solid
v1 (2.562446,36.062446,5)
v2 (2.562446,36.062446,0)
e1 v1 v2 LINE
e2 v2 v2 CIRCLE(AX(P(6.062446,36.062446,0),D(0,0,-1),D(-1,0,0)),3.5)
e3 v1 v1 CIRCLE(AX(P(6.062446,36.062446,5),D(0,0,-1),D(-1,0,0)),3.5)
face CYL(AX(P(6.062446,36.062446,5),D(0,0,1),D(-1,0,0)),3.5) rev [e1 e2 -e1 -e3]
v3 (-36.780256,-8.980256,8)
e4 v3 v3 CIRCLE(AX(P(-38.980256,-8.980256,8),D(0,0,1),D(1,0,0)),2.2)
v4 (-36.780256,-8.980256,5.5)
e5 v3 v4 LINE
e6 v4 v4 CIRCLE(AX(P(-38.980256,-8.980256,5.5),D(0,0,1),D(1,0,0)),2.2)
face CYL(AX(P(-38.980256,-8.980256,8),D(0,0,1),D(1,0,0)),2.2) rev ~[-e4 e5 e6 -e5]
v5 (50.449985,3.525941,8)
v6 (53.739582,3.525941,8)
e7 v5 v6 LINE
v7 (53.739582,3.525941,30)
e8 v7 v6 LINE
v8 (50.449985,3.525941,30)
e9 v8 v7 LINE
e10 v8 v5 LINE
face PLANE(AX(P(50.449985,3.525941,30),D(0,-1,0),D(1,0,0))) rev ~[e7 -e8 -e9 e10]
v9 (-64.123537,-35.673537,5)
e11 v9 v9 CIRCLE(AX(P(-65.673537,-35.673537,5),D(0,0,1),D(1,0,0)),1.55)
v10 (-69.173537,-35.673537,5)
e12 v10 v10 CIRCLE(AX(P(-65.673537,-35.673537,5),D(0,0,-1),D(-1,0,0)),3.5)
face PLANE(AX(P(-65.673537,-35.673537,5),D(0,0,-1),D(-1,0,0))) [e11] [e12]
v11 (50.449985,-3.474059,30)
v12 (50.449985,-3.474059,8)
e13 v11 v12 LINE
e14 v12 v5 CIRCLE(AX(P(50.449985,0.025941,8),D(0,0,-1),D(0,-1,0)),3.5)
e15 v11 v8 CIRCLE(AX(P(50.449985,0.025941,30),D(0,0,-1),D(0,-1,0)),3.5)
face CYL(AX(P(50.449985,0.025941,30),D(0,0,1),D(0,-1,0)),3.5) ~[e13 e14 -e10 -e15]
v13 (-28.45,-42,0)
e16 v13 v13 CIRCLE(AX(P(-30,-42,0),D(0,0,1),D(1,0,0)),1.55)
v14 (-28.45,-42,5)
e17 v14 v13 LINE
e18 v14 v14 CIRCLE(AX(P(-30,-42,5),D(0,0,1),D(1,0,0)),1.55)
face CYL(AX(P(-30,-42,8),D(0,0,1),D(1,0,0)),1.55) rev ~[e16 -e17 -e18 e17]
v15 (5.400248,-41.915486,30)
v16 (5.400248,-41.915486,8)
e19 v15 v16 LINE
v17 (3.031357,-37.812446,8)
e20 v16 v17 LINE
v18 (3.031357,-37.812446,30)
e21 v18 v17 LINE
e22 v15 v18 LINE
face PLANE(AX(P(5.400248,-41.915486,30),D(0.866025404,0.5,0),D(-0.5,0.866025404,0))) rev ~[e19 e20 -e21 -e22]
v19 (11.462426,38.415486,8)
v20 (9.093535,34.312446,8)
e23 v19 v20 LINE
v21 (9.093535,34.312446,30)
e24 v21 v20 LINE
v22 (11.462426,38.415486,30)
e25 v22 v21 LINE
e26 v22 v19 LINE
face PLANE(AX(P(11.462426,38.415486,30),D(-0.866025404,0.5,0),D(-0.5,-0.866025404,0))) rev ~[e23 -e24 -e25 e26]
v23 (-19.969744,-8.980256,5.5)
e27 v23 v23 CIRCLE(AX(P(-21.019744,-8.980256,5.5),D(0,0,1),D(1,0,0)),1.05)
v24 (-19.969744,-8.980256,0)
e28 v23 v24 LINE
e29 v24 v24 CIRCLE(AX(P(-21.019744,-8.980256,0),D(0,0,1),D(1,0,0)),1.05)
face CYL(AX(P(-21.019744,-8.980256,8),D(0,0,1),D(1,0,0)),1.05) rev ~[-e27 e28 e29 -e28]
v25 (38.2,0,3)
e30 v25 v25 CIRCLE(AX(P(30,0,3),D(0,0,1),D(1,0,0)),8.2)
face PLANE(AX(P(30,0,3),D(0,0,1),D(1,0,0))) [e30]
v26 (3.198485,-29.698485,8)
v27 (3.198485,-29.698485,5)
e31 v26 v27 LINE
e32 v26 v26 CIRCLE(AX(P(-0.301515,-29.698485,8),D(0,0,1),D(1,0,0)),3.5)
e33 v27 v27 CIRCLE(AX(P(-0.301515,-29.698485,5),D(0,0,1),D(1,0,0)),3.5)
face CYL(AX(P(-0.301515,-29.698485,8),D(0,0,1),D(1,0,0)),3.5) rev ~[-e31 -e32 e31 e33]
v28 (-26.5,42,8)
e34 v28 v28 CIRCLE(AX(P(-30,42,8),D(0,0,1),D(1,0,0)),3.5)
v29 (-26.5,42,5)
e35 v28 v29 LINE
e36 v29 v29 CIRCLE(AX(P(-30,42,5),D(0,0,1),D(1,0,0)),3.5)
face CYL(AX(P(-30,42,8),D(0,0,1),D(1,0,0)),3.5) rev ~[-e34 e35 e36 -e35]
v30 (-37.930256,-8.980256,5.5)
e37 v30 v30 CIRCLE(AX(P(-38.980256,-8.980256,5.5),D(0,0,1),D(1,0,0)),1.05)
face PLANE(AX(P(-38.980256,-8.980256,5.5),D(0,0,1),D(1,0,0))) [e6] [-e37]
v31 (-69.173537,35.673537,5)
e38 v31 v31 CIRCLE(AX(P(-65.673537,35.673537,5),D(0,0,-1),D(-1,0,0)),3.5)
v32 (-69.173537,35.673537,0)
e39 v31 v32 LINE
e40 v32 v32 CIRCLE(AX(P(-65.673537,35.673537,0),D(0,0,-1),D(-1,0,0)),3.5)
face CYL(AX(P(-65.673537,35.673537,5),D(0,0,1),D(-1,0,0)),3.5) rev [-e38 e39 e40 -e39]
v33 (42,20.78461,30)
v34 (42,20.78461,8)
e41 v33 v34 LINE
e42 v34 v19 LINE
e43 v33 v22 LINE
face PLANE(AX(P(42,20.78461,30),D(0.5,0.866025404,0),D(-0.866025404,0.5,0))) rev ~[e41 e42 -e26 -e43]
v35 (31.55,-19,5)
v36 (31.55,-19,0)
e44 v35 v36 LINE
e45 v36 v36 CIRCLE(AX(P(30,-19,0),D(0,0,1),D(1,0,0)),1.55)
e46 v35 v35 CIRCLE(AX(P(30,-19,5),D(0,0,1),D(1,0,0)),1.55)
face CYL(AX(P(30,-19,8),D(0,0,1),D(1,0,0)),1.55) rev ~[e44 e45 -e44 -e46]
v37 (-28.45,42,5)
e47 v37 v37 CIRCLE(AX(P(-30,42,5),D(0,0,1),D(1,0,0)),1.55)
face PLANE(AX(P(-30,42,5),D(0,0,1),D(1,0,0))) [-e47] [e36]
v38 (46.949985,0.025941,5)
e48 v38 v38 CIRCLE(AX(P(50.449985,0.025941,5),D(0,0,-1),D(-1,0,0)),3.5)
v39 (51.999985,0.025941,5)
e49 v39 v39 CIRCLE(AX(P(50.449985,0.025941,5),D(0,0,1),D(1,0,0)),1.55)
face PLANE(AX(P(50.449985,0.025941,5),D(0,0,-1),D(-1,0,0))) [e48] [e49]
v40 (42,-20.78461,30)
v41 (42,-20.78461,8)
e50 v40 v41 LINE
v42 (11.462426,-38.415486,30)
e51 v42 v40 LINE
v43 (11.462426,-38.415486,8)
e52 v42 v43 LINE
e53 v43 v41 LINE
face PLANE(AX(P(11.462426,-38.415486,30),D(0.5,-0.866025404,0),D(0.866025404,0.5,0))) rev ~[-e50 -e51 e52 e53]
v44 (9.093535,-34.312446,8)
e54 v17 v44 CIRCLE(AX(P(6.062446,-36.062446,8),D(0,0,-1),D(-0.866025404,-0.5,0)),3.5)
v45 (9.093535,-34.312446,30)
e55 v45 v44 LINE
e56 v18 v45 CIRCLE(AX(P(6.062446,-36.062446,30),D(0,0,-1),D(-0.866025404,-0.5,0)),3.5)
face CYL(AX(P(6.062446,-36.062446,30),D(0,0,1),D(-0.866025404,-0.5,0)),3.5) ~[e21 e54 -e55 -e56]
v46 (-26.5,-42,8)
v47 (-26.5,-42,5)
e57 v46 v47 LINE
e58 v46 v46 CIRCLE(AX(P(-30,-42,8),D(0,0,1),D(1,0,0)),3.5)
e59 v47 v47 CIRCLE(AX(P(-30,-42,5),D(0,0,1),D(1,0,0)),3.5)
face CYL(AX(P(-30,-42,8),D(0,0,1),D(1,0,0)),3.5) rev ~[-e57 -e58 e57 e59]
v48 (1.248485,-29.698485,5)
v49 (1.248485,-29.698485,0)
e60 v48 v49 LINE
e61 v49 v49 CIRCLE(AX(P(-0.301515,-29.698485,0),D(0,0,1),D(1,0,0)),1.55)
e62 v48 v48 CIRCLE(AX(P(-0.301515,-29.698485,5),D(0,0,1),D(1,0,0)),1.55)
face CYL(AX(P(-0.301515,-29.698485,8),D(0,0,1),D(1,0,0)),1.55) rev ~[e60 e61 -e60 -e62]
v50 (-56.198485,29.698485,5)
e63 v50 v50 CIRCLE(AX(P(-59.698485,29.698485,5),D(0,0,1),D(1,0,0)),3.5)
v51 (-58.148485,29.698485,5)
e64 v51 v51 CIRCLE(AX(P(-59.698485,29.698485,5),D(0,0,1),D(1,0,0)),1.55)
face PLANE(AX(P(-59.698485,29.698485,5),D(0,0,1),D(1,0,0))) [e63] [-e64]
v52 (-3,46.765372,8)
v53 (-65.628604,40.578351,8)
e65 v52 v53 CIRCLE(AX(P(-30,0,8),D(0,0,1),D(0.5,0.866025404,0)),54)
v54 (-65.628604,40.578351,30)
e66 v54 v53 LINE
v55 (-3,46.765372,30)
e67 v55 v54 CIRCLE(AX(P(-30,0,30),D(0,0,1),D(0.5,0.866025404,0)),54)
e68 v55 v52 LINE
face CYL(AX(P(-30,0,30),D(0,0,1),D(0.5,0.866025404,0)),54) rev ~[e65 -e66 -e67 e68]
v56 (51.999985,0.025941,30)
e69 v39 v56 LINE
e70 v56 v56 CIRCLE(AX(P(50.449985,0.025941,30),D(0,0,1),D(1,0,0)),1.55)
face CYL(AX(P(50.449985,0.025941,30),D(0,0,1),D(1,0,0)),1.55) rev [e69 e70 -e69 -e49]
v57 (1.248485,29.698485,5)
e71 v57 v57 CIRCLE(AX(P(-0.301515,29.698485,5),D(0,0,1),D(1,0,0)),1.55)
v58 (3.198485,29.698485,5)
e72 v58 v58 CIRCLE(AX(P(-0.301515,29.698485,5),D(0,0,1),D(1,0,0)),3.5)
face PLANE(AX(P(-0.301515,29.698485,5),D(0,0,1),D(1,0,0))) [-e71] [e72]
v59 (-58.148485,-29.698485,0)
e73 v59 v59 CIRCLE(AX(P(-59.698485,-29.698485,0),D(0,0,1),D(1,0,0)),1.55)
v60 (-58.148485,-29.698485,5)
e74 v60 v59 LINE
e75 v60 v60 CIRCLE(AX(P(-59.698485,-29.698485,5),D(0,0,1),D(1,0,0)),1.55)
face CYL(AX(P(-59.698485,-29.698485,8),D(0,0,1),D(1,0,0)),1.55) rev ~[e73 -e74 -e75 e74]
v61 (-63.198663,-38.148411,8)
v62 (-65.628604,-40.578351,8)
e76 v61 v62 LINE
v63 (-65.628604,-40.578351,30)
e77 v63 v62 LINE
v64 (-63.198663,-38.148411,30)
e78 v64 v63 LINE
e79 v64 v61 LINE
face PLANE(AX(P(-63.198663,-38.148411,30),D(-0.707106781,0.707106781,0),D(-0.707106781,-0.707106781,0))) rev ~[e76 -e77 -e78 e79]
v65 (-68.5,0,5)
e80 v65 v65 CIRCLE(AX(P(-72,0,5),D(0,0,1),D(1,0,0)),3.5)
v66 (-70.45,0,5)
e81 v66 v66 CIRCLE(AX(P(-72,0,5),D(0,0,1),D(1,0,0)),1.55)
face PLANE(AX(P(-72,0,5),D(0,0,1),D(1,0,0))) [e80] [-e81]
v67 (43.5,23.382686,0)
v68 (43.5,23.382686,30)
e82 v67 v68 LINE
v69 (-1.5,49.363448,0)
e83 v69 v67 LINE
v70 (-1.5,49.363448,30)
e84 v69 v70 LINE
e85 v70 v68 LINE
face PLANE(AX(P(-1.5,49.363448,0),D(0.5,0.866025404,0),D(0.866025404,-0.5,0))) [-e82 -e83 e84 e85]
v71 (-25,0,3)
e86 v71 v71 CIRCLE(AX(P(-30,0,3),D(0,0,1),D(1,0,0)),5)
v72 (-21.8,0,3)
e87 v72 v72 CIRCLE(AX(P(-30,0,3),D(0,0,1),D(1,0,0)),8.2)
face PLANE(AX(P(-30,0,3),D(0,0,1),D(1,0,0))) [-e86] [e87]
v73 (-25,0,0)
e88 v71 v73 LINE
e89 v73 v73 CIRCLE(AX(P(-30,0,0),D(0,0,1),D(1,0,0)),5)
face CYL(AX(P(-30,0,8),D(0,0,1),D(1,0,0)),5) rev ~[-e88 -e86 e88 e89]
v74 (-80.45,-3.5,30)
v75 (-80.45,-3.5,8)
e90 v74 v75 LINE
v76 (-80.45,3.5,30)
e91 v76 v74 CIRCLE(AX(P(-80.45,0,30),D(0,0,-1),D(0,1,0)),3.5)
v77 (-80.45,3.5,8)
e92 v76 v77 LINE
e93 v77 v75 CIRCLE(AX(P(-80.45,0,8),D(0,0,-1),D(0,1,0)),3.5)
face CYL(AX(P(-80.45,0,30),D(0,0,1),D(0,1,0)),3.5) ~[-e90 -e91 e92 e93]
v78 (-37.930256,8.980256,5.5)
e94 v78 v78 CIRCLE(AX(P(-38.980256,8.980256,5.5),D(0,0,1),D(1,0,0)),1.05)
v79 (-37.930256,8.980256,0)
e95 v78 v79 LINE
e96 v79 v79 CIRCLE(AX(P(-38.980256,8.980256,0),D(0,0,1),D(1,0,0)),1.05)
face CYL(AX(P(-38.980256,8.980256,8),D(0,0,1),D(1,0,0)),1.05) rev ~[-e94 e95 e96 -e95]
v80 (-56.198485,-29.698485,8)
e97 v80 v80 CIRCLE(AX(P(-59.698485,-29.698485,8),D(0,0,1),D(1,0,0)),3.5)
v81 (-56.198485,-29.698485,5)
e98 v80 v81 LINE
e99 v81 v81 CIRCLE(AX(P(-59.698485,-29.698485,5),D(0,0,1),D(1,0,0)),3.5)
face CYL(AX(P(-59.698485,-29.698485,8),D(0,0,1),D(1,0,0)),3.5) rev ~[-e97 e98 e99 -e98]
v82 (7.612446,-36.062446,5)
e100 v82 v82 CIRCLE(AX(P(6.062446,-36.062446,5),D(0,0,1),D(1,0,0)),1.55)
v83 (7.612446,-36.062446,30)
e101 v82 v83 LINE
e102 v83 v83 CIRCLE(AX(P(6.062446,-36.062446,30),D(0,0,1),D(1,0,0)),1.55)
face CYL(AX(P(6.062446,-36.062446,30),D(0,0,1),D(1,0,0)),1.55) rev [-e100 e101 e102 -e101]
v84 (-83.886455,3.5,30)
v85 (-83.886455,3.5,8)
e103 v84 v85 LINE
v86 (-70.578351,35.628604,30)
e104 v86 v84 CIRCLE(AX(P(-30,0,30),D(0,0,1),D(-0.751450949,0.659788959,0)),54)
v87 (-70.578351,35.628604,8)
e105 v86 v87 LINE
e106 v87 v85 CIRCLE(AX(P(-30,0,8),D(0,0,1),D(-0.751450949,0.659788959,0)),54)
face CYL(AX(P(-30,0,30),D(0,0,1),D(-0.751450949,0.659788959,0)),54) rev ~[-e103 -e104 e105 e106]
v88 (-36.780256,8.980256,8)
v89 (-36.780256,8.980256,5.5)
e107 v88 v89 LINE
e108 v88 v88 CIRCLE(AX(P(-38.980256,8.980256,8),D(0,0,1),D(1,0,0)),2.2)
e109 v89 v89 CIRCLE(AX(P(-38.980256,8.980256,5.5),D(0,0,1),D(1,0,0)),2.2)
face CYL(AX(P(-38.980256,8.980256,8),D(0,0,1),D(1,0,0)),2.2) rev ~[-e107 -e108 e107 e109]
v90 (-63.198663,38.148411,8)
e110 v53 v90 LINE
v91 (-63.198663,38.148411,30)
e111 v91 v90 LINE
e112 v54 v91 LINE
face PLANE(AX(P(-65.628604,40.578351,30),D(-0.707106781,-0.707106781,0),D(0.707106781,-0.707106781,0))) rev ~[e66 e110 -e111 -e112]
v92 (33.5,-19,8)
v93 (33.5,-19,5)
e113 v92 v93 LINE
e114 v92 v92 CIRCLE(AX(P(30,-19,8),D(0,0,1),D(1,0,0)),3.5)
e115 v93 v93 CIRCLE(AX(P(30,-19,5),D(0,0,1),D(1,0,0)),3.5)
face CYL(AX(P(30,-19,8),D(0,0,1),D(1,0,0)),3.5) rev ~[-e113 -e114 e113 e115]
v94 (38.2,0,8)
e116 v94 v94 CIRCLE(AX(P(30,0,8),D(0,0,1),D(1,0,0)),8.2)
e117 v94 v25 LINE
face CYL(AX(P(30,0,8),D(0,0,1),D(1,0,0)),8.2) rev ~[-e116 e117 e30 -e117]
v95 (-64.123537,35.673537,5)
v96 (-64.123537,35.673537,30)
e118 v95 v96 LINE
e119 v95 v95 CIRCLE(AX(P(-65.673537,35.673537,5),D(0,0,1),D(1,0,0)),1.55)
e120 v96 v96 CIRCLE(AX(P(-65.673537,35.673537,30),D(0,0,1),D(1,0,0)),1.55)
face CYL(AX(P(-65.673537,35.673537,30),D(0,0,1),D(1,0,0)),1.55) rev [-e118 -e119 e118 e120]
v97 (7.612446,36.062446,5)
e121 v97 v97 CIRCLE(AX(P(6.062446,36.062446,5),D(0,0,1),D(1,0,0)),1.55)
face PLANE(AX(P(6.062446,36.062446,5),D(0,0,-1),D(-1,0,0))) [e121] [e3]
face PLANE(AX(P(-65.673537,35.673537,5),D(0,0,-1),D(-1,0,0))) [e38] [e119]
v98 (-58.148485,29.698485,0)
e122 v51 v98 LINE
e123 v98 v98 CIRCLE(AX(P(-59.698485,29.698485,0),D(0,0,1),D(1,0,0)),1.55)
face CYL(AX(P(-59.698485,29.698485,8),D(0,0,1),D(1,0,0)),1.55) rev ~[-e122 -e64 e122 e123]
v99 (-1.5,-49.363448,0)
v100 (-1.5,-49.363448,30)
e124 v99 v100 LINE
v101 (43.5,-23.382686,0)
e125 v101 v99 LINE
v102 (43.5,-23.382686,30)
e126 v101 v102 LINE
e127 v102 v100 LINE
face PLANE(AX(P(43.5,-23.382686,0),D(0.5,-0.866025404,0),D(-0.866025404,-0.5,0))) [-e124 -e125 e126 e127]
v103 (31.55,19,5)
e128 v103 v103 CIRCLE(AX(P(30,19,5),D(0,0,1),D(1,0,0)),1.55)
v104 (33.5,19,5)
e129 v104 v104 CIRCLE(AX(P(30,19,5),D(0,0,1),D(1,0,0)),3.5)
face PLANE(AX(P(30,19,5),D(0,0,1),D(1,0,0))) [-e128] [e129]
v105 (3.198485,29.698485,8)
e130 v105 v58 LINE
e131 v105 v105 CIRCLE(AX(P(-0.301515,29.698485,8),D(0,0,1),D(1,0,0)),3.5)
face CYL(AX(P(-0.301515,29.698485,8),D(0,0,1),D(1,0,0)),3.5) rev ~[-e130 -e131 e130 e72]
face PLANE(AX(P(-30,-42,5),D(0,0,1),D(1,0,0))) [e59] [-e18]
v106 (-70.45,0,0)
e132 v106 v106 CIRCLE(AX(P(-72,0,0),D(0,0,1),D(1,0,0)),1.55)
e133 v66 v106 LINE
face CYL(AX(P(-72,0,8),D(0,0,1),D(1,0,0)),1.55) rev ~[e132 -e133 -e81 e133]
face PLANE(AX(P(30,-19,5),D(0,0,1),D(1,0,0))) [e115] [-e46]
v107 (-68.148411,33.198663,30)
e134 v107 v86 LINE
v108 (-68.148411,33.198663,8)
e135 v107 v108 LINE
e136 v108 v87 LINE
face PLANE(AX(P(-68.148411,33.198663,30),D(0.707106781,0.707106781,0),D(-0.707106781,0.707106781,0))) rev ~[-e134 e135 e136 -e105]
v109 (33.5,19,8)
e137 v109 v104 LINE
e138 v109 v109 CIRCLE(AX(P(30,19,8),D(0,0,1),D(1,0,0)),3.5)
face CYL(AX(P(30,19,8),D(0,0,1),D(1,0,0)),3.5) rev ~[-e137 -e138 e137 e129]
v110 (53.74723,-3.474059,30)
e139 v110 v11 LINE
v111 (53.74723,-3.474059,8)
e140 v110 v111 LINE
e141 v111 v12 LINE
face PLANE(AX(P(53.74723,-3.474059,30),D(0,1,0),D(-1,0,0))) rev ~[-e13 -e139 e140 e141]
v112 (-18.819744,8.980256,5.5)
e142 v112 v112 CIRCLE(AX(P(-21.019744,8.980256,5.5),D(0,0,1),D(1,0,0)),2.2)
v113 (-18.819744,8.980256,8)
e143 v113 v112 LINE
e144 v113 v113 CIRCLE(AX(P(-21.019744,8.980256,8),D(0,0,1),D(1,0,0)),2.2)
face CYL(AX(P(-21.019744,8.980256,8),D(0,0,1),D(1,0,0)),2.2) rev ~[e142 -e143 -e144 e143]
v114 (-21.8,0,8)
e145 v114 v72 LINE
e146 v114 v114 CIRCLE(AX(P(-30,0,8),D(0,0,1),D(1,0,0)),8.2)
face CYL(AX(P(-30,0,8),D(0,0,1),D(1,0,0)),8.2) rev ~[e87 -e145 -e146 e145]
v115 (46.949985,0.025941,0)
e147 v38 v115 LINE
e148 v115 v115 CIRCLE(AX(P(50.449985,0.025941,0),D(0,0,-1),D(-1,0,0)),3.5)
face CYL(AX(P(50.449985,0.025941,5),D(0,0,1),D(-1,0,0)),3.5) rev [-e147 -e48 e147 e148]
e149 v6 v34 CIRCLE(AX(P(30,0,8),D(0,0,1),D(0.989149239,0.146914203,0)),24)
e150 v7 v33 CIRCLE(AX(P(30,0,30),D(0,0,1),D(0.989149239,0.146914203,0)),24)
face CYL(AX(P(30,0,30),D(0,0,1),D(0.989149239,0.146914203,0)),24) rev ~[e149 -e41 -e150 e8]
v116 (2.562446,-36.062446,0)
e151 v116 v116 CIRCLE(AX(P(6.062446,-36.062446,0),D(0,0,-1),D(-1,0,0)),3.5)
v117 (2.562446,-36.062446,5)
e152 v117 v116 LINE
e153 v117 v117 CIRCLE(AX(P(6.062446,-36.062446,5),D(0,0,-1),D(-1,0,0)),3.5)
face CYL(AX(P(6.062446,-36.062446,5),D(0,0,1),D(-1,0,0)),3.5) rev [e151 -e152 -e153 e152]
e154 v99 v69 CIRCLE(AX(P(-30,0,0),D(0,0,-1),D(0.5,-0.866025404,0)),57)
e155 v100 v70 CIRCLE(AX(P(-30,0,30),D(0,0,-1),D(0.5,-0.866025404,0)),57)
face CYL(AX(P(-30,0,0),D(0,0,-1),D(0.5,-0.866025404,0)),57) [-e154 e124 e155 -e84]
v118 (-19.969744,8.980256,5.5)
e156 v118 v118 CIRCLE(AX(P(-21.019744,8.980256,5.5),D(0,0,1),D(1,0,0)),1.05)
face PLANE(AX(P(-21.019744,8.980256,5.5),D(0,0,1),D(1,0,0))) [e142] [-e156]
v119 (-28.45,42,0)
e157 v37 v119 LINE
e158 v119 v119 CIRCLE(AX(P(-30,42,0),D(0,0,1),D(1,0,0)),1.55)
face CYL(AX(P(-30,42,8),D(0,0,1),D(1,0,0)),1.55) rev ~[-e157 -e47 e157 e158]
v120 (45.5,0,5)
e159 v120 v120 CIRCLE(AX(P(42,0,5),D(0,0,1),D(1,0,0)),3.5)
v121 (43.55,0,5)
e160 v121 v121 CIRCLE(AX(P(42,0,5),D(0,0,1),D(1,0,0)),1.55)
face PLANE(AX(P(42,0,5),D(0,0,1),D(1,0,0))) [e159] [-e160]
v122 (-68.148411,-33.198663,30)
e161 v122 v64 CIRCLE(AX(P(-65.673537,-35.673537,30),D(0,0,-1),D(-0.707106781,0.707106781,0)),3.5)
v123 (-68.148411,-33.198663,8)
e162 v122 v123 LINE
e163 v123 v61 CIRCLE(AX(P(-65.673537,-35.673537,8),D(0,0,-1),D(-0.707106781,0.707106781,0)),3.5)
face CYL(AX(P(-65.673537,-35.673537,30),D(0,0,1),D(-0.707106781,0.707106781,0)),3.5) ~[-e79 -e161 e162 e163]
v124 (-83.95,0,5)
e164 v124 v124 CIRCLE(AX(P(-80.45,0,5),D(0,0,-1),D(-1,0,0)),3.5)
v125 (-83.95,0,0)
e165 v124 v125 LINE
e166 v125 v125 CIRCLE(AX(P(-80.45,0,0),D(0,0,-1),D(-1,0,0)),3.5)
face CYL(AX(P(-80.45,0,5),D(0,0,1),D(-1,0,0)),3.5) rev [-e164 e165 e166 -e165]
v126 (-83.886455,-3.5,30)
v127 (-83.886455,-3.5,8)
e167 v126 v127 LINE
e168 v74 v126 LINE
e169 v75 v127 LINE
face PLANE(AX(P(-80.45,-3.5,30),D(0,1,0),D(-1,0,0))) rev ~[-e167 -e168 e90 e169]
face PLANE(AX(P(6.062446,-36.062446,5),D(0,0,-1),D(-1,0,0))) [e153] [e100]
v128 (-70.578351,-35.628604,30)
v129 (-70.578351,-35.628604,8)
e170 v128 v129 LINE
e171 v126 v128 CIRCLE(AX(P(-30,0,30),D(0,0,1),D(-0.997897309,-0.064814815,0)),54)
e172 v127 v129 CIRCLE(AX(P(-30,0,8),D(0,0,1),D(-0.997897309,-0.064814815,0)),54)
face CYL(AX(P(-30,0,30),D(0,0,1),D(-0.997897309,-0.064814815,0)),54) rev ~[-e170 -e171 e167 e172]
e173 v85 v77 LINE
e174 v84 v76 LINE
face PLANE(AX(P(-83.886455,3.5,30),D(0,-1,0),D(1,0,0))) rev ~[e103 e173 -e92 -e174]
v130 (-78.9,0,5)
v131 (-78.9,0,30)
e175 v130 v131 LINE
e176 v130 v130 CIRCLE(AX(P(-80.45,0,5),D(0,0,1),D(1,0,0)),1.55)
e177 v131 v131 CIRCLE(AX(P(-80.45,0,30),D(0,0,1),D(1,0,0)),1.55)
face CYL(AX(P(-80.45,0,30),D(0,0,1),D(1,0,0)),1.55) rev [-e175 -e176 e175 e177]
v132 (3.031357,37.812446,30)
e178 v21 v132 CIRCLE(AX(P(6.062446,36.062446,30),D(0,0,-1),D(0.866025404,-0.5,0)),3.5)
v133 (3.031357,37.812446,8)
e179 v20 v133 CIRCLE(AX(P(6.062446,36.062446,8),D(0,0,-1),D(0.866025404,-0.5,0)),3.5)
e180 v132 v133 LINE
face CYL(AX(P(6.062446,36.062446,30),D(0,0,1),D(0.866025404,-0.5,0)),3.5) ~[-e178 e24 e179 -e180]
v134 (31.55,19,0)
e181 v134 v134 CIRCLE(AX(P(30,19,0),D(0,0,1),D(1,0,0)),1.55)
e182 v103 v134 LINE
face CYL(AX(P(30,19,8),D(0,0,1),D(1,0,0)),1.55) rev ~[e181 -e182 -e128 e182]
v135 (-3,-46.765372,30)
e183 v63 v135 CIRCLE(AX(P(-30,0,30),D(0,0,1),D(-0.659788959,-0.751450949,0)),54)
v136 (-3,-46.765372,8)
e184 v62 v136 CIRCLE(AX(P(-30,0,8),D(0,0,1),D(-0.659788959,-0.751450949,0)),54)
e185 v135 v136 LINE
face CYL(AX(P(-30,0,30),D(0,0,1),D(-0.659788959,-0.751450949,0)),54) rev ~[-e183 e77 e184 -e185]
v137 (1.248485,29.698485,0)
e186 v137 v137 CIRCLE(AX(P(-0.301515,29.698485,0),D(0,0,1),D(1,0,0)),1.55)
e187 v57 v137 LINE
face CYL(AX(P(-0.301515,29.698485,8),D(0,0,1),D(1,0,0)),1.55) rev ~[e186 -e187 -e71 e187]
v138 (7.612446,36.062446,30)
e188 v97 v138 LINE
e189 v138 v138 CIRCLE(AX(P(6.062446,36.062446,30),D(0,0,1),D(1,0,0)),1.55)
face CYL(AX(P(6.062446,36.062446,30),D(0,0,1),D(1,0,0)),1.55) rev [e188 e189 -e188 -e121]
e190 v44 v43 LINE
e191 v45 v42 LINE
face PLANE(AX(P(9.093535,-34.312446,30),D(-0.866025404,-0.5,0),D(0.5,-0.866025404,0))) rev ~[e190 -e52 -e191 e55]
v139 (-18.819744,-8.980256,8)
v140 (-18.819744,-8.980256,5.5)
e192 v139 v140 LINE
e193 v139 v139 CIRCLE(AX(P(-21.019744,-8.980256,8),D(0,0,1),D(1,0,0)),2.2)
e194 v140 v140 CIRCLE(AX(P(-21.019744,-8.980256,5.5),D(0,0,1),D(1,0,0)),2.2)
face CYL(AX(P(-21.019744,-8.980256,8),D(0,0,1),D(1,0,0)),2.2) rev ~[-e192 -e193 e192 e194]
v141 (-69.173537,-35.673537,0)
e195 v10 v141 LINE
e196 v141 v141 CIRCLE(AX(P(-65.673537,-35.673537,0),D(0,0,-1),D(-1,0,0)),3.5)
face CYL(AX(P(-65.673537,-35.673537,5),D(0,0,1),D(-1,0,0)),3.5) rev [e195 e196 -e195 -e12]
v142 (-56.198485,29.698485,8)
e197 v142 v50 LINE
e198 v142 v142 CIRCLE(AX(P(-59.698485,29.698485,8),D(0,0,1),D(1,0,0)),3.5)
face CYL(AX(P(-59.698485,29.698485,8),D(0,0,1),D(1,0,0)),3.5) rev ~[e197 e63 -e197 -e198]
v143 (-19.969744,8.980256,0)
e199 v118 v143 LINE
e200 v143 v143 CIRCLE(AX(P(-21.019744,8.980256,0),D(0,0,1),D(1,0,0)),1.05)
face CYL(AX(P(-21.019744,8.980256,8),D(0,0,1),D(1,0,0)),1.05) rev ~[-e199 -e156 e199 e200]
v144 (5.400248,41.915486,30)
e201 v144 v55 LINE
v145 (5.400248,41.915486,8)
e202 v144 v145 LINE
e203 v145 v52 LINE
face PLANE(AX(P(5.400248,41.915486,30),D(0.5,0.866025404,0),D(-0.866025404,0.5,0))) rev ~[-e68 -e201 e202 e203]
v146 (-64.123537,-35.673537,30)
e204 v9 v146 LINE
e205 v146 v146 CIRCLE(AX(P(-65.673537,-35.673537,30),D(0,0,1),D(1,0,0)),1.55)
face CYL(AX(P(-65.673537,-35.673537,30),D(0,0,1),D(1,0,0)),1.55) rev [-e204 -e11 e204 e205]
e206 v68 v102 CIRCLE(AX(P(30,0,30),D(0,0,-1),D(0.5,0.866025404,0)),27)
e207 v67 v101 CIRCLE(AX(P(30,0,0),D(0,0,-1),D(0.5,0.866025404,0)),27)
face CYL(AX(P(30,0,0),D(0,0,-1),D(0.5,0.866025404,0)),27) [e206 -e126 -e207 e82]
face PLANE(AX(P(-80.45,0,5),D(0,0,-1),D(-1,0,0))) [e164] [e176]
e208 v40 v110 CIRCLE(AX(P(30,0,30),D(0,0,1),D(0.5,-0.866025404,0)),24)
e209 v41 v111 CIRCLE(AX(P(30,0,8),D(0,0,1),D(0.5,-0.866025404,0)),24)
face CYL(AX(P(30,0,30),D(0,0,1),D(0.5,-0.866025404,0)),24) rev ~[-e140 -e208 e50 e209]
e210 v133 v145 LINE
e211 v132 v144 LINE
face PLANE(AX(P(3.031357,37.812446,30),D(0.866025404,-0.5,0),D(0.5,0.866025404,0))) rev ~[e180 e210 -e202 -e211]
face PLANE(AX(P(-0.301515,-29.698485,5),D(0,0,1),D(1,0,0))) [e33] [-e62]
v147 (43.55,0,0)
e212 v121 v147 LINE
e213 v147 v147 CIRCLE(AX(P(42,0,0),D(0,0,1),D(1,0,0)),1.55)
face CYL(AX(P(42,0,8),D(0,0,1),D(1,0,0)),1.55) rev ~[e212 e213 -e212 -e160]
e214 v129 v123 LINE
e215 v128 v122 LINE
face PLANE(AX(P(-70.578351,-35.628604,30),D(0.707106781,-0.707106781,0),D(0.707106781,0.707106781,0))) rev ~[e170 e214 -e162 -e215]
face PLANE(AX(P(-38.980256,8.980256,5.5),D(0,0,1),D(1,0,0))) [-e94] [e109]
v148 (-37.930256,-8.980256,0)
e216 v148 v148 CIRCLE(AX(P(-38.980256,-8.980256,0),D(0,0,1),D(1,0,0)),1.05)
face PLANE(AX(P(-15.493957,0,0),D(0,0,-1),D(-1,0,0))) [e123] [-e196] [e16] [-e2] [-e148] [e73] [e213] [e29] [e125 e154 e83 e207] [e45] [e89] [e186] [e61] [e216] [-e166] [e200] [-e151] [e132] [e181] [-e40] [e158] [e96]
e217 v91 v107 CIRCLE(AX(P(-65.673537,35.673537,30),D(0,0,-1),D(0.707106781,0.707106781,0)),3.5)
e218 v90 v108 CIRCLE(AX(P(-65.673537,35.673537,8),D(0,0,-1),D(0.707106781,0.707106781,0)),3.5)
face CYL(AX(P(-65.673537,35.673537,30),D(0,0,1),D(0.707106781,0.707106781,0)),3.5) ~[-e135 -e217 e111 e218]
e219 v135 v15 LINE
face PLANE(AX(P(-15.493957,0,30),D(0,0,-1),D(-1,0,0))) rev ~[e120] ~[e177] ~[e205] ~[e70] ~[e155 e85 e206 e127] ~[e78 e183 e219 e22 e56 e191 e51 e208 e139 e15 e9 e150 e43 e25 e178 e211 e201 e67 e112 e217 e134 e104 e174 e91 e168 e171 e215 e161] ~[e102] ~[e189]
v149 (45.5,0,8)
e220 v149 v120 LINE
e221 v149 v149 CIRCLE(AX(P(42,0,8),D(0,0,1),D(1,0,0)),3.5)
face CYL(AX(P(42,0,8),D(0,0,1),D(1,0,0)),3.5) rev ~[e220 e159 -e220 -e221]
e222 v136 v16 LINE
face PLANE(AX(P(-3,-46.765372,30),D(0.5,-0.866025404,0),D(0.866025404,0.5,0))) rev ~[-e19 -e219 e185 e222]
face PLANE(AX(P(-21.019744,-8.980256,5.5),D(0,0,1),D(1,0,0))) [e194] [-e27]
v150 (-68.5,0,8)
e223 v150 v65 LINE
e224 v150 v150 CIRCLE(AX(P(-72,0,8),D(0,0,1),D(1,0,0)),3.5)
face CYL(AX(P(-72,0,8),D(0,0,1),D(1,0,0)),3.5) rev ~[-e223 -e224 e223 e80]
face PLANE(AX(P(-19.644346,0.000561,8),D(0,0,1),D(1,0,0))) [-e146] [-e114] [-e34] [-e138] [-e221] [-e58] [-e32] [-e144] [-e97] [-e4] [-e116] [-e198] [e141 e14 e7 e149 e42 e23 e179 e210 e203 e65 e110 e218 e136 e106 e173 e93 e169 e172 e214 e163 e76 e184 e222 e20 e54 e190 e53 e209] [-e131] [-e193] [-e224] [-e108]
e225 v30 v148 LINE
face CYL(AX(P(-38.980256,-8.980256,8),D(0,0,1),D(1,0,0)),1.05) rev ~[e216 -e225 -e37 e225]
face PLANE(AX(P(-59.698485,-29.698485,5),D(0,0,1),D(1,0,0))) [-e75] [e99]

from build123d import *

# Parameters (mm, degrees)
BOSS_EXTRUDE1_DEPTH = 30
SKETCH3_R           = 1.55
CUT_EXTRUDE1_DEPTH  = 22
CUT_EXTRUDE2_START  = -30
SKETCH5_R           = 1.55
CUT_EXTRUDE2_DEPTH  = 30
CUT_EXTRUDE3_START  = -5
SKETCH6_R           = 3.5
CUT_EXTRUDE3_DEPTH  = 5
SKETCH7_R           = 8.2
CUT_EXTRUDE10_DEPTH = 5
SKETCH8_R           = 5
SKETCH8_R_2         = 1.05
CUT_EXTRUDE7_DEPTH  = 8
SKETCH9_R           = 2.2
CUT_EXTRUDE8_DEPTH  = 2.5
SKETCH11_R          = 1.55
CUT_EXTRUDE11_DEPTH = 8
SKETCH12_R          = 3.5
CUT_EXTRUDE12_DEPTH = 3


with BuildPart() as part:
    # Sketch1 → Boss-Extrude1 (new body)
    with BuildSketch(Plane.XY):
        with BuildLine():
            Line((-1.5, 49.363448016), (43.5, 23.382685902))
            ThreePointArc((43.5, 23.382685902), (57, 0), (43.5, -23.382685902))
            Line((43.5, -23.382685902), (-1.5, -49.363448016))
            ThreePointArc((-1.5, -49.363448016), (-87, 0), (-1.5, 49.363448016))
        make_face()
    extrude(amount=BOSS_EXTRUDE1_DEPTH)

    # Sketch3 → Cut-Extrude1 (cut)
    with BuildSketch(Plane.XY.offset(30)):
        with Locations((50.449984706, 0.025940866)):
            Circle(SKETCH3_R)
        with Locations((-80.45, 0)):
            Circle(SKETCH3_R)
        with Locations((-65.673537111, 35.673537111)):
            Circle(SKETCH3_R)
        with Locations((-65.673537111, -35.673537111)):
            Circle(SKETCH3_R)
        with Locations((6.062445841, 36.062445841)):
            Circle(SKETCH3_R)
        with Locations((6.062445841, -36.062445841)):
            Circle(SKETCH3_R)
        with BuildLine():
            Line((-3, -46.765371804), (5.400248357, -41.915486154))
            Line((5.400248357, -41.915486154), (3.031356927, -37.812445841))
            ThreePointArc((3.031356927, -37.812445841), (4.312445841, -33.031356927), (9.093534754, -34.312445841))
            Line((9.093534754, -34.312445841), (11.462426183, -38.415486154))
            Line((11.462426183, -38.415486154), (42, -20.784609691))
            ThreePointArc((42, -20.784609691), (49.859000377, -13.476650327), (53.747229589, -3.474059134))
            Line((53.747229589, -3.474059134), (50.449984706, -3.474059134))
            ThreePointArc((50.449984706, -3.474059134), (46.949984706, 0.025940866), (50.449984706, 3.525940866))
            Line((50.449984706, 3.525940866), (53.739581736, 3.525940866))
            ThreePointArc((53.739581736, 3.525940866), (49.844264614, 13.498339229), (42, 20.784609691))
            Line((42, 20.784609691), (11.462426183, 38.415486154))
            Line((11.462426183, 38.415486154), (9.093534754, 34.312445841))
            ThreePointArc((9.093534754, 34.312445841), (4.312445841, 33.031356927), (3.031356927, 37.812445841))
            Line((3.031356927, 37.812445841), (5.400248357, 41.915486154))
            Line((5.400248357, 41.915486154), (-3, 46.765371804))
            ThreePointArc((-3, 46.765371804), (-35.308766962, 53.738412643), (-65.628603797, 40.578351266))
            Line((-65.628603797, 40.578351266), (-63.198663377, 38.148410845))
            ThreePointArc((-63.198663377, 38.148410845), (-63.198663377, 33.198663377), (-68.148410845, 33.198663377))
            Line((-68.148410845, 33.198663377), (-70.578351266, 35.628603797))
            ThreePointArc((-70.578351266, 35.628603797), (-79.889494756, 20.664905348), (-83.886454699, 3.5))
            Line((-83.886454699, 3.5), (-80.45, 3.5))
            ThreePointArc((-80.45, 3.5), (-76.95, 0), (-80.45, -3.5))
            Line((-80.45, -3.5), (-83.886454699, -3.5))
            ThreePointArc((-83.886454699, -3.5), (-79.889494756, -20.664905348), (-70.578351266, -35.628603797))
            Line((-70.578351266, -35.628603797), (-68.148410845, -33.198663377))
            ThreePointArc((-68.148410845, -33.198663377), (-63.198663377, -33.198663377), (-63.198663377, -38.148410845))
            Line((-63.198663377, -38.148410845), (-65.628603797, -40.578351266))
            ThreePointArc((-65.628603797, -40.578351266), (-35.308766962, -53.738412643), (-3, -46.765371804))
        make_face()
    extrude(amount=-CUT_EXTRUDE1_DEPTH, mode=Mode.SUBTRACT)

    # Sketch5 → Cut-Extrude2 (cut)
    with BuildSketch(Plane(origin=(0, 0, 0), x_dir=(-1, 0, 0), z_dir=(0, 0, -1)).offset(CUT_EXTRUDE2_START)):
        with Locations(Location((80.45, 0, 0), (0, 0, 180))):
            Circle(SKETCH5_R)
        with Locations(Location((-50.449984706, 0.025940866, 0), (0, 0, 180))):
            Circle(SKETCH5_R)
        with Locations(Location((-6.062445841, -36.062445841, 0), (0, 0, 180))):
            Circle(SKETCH5_R)
        with Locations(Location((-6.062445841, 36.062445841, 0), (0, 0, 180))):
            Circle(SKETCH5_R)
        with Locations(Location((65.673537111, 35.673537111, 0), (0, 0, 180))):
            Circle(SKETCH5_R)
        with Locations(Location((65.673537111, -35.673537111, 0), (0, 0, 180))):
            Circle(SKETCH5_R)
    extrude(amount=CUT_EXTRUDE2_DEPTH, mode=Mode.SUBTRACT)

    # Sketch6 → Cut-Extrude3 (cut)
    with BuildSketch(Plane(origin=(0, 0, 0), x_dir=(-1, 0, 0), z_dir=(0, 0, -1)).offset(CUT_EXTRUDE3_START)):
        with Locations((-50.449984706, 0.025940866)):
            Circle(SKETCH6_R)
        with Locations((80.45, 0)):
            Circle(SKETCH6_R)
        with Locations((65.673537111, 35.673537111)):
            Circle(SKETCH6_R)
        with Locations((-6.062445841, 36.062445841)):
            Circle(SKETCH6_R)
        with Locations((65.673537111, -35.673537111)):
            Circle(SKETCH6_R)
        with Locations((-6.062445841, -36.062445841)):
            Circle(SKETCH6_R)
    extrude(amount=CUT_EXTRUDE3_DEPTH, mode=Mode.SUBTRACT)

    # Sketch7 → Cut-Extrude10 (cut)
    with BuildSketch(Plane.XY.offset(8)):
        with Locations((-30, 0)):
            Circle(SKETCH7_R)
        with Locations((30, 0)):
            Circle(SKETCH7_R)
    extrude(amount=-CUT_EXTRUDE10_DEPTH, mode=Mode.SUBTRACT)

    # Sketch8 → Cut-Extrude7 (cut)
    with BuildSketch(Plane.XY.offset(8)):
        with Locations((-30, 0)):
            Circle(SKETCH8_R)
        with Locations((-38.980256121, 8.980256121)):
            Circle(SKETCH8_R_2)
        with Locations((-21.019743879, 8.980256121)):
            Circle(SKETCH8_R_2)
        with Locations((-21.019743879, -8.980256121)):
            Circle(SKETCH8_R_2)
        with Locations((-38.980256121, -8.980256121)):
            Circle(SKETCH8_R_2)
    extrude(amount=-CUT_EXTRUDE7_DEPTH, mode=Mode.SUBTRACT)

    # Sketch9 → Cut-Extrude8 (cut)
    with BuildSketch(Plane.XY.offset(8)):
        with Locations((-38.980256121, 8.980256121)):
            Circle(SKETCH9_R)
        with Locations((-21.019743879, 8.980256121)):
            Circle(SKETCH9_R)
        with Locations((-21.019743879, -8.980256121)):
            Circle(SKETCH9_R)
        with Locations((-38.980256121, -8.980256121)):
            Circle(SKETCH9_R)
    extrude(amount=-CUT_EXTRUDE8_DEPTH, mode=Mode.SUBTRACT)

    # Sketch11 → Cut-Extrude11 (cut)
    with BuildSketch(Plane.XY.offset(8)):
        with Locations((-0.30151519, 29.69848481)):
            Circle(SKETCH11_R)
        with Locations((-30, 42)):
            Circle(SKETCH11_R)
        with Locations((-59.69848481, 29.69848481)):
            Circle(SKETCH11_R)
        with Locations((-72, 0)):
            Circle(SKETCH11_R)
        with Locations((-59.69848481, -29.69848481)):
            Circle(SKETCH11_R)
        with Locations((-30, -42)):
            Circle(SKETCH11_R)
        with Locations((-0.30151519, -29.69848481)):
            Circle(SKETCH11_R)
        with Locations((30, 19)):
            Circle(SKETCH11_R)
        with Locations((30, -19)):
            Circle(SKETCH11_R)
        with Locations((42, 0)):
            Circle(SKETCH11_R)
    extrude(amount=-CUT_EXTRUDE11_DEPTH, mode=Mode.SUBTRACT)

    # Sketch12 → Cut-Extrude12 (cut)
    with BuildSketch(Plane.XY.offset(8)):
        with Locations((-0.30151519, 29.69848481)):
            Circle(SKETCH12_R)
        with Locations((-30, 42)):
            Circle(SKETCH12_R)
        with Locations((-59.69848481, 29.69848481)):
            Circle(SKETCH12_R)
        with Locations((-72, 0)):
            Circle(SKETCH12_R)
        with Locations((-59.69848481, -29.69848481)):
            Circle(SKETCH12_R)
        with Locations((-30, -42)):
            Circle(SKETCH12_R)
        with Locations((-0.30151519, -29.69848481)):
            Circle(SKETCH12_R)
        with Locations((30, 19)):
            Circle(SKETCH12_R)
        with Locations((42, 0)):
            Circle(SKETCH12_R)
        with Locations((30, -19)):
            Circle(SKETCH12_R)
    extrude(amount=-CUT_EXTRUDE12_DEPTH, mode=Mode.SUBTRACT)


solid = part.part
